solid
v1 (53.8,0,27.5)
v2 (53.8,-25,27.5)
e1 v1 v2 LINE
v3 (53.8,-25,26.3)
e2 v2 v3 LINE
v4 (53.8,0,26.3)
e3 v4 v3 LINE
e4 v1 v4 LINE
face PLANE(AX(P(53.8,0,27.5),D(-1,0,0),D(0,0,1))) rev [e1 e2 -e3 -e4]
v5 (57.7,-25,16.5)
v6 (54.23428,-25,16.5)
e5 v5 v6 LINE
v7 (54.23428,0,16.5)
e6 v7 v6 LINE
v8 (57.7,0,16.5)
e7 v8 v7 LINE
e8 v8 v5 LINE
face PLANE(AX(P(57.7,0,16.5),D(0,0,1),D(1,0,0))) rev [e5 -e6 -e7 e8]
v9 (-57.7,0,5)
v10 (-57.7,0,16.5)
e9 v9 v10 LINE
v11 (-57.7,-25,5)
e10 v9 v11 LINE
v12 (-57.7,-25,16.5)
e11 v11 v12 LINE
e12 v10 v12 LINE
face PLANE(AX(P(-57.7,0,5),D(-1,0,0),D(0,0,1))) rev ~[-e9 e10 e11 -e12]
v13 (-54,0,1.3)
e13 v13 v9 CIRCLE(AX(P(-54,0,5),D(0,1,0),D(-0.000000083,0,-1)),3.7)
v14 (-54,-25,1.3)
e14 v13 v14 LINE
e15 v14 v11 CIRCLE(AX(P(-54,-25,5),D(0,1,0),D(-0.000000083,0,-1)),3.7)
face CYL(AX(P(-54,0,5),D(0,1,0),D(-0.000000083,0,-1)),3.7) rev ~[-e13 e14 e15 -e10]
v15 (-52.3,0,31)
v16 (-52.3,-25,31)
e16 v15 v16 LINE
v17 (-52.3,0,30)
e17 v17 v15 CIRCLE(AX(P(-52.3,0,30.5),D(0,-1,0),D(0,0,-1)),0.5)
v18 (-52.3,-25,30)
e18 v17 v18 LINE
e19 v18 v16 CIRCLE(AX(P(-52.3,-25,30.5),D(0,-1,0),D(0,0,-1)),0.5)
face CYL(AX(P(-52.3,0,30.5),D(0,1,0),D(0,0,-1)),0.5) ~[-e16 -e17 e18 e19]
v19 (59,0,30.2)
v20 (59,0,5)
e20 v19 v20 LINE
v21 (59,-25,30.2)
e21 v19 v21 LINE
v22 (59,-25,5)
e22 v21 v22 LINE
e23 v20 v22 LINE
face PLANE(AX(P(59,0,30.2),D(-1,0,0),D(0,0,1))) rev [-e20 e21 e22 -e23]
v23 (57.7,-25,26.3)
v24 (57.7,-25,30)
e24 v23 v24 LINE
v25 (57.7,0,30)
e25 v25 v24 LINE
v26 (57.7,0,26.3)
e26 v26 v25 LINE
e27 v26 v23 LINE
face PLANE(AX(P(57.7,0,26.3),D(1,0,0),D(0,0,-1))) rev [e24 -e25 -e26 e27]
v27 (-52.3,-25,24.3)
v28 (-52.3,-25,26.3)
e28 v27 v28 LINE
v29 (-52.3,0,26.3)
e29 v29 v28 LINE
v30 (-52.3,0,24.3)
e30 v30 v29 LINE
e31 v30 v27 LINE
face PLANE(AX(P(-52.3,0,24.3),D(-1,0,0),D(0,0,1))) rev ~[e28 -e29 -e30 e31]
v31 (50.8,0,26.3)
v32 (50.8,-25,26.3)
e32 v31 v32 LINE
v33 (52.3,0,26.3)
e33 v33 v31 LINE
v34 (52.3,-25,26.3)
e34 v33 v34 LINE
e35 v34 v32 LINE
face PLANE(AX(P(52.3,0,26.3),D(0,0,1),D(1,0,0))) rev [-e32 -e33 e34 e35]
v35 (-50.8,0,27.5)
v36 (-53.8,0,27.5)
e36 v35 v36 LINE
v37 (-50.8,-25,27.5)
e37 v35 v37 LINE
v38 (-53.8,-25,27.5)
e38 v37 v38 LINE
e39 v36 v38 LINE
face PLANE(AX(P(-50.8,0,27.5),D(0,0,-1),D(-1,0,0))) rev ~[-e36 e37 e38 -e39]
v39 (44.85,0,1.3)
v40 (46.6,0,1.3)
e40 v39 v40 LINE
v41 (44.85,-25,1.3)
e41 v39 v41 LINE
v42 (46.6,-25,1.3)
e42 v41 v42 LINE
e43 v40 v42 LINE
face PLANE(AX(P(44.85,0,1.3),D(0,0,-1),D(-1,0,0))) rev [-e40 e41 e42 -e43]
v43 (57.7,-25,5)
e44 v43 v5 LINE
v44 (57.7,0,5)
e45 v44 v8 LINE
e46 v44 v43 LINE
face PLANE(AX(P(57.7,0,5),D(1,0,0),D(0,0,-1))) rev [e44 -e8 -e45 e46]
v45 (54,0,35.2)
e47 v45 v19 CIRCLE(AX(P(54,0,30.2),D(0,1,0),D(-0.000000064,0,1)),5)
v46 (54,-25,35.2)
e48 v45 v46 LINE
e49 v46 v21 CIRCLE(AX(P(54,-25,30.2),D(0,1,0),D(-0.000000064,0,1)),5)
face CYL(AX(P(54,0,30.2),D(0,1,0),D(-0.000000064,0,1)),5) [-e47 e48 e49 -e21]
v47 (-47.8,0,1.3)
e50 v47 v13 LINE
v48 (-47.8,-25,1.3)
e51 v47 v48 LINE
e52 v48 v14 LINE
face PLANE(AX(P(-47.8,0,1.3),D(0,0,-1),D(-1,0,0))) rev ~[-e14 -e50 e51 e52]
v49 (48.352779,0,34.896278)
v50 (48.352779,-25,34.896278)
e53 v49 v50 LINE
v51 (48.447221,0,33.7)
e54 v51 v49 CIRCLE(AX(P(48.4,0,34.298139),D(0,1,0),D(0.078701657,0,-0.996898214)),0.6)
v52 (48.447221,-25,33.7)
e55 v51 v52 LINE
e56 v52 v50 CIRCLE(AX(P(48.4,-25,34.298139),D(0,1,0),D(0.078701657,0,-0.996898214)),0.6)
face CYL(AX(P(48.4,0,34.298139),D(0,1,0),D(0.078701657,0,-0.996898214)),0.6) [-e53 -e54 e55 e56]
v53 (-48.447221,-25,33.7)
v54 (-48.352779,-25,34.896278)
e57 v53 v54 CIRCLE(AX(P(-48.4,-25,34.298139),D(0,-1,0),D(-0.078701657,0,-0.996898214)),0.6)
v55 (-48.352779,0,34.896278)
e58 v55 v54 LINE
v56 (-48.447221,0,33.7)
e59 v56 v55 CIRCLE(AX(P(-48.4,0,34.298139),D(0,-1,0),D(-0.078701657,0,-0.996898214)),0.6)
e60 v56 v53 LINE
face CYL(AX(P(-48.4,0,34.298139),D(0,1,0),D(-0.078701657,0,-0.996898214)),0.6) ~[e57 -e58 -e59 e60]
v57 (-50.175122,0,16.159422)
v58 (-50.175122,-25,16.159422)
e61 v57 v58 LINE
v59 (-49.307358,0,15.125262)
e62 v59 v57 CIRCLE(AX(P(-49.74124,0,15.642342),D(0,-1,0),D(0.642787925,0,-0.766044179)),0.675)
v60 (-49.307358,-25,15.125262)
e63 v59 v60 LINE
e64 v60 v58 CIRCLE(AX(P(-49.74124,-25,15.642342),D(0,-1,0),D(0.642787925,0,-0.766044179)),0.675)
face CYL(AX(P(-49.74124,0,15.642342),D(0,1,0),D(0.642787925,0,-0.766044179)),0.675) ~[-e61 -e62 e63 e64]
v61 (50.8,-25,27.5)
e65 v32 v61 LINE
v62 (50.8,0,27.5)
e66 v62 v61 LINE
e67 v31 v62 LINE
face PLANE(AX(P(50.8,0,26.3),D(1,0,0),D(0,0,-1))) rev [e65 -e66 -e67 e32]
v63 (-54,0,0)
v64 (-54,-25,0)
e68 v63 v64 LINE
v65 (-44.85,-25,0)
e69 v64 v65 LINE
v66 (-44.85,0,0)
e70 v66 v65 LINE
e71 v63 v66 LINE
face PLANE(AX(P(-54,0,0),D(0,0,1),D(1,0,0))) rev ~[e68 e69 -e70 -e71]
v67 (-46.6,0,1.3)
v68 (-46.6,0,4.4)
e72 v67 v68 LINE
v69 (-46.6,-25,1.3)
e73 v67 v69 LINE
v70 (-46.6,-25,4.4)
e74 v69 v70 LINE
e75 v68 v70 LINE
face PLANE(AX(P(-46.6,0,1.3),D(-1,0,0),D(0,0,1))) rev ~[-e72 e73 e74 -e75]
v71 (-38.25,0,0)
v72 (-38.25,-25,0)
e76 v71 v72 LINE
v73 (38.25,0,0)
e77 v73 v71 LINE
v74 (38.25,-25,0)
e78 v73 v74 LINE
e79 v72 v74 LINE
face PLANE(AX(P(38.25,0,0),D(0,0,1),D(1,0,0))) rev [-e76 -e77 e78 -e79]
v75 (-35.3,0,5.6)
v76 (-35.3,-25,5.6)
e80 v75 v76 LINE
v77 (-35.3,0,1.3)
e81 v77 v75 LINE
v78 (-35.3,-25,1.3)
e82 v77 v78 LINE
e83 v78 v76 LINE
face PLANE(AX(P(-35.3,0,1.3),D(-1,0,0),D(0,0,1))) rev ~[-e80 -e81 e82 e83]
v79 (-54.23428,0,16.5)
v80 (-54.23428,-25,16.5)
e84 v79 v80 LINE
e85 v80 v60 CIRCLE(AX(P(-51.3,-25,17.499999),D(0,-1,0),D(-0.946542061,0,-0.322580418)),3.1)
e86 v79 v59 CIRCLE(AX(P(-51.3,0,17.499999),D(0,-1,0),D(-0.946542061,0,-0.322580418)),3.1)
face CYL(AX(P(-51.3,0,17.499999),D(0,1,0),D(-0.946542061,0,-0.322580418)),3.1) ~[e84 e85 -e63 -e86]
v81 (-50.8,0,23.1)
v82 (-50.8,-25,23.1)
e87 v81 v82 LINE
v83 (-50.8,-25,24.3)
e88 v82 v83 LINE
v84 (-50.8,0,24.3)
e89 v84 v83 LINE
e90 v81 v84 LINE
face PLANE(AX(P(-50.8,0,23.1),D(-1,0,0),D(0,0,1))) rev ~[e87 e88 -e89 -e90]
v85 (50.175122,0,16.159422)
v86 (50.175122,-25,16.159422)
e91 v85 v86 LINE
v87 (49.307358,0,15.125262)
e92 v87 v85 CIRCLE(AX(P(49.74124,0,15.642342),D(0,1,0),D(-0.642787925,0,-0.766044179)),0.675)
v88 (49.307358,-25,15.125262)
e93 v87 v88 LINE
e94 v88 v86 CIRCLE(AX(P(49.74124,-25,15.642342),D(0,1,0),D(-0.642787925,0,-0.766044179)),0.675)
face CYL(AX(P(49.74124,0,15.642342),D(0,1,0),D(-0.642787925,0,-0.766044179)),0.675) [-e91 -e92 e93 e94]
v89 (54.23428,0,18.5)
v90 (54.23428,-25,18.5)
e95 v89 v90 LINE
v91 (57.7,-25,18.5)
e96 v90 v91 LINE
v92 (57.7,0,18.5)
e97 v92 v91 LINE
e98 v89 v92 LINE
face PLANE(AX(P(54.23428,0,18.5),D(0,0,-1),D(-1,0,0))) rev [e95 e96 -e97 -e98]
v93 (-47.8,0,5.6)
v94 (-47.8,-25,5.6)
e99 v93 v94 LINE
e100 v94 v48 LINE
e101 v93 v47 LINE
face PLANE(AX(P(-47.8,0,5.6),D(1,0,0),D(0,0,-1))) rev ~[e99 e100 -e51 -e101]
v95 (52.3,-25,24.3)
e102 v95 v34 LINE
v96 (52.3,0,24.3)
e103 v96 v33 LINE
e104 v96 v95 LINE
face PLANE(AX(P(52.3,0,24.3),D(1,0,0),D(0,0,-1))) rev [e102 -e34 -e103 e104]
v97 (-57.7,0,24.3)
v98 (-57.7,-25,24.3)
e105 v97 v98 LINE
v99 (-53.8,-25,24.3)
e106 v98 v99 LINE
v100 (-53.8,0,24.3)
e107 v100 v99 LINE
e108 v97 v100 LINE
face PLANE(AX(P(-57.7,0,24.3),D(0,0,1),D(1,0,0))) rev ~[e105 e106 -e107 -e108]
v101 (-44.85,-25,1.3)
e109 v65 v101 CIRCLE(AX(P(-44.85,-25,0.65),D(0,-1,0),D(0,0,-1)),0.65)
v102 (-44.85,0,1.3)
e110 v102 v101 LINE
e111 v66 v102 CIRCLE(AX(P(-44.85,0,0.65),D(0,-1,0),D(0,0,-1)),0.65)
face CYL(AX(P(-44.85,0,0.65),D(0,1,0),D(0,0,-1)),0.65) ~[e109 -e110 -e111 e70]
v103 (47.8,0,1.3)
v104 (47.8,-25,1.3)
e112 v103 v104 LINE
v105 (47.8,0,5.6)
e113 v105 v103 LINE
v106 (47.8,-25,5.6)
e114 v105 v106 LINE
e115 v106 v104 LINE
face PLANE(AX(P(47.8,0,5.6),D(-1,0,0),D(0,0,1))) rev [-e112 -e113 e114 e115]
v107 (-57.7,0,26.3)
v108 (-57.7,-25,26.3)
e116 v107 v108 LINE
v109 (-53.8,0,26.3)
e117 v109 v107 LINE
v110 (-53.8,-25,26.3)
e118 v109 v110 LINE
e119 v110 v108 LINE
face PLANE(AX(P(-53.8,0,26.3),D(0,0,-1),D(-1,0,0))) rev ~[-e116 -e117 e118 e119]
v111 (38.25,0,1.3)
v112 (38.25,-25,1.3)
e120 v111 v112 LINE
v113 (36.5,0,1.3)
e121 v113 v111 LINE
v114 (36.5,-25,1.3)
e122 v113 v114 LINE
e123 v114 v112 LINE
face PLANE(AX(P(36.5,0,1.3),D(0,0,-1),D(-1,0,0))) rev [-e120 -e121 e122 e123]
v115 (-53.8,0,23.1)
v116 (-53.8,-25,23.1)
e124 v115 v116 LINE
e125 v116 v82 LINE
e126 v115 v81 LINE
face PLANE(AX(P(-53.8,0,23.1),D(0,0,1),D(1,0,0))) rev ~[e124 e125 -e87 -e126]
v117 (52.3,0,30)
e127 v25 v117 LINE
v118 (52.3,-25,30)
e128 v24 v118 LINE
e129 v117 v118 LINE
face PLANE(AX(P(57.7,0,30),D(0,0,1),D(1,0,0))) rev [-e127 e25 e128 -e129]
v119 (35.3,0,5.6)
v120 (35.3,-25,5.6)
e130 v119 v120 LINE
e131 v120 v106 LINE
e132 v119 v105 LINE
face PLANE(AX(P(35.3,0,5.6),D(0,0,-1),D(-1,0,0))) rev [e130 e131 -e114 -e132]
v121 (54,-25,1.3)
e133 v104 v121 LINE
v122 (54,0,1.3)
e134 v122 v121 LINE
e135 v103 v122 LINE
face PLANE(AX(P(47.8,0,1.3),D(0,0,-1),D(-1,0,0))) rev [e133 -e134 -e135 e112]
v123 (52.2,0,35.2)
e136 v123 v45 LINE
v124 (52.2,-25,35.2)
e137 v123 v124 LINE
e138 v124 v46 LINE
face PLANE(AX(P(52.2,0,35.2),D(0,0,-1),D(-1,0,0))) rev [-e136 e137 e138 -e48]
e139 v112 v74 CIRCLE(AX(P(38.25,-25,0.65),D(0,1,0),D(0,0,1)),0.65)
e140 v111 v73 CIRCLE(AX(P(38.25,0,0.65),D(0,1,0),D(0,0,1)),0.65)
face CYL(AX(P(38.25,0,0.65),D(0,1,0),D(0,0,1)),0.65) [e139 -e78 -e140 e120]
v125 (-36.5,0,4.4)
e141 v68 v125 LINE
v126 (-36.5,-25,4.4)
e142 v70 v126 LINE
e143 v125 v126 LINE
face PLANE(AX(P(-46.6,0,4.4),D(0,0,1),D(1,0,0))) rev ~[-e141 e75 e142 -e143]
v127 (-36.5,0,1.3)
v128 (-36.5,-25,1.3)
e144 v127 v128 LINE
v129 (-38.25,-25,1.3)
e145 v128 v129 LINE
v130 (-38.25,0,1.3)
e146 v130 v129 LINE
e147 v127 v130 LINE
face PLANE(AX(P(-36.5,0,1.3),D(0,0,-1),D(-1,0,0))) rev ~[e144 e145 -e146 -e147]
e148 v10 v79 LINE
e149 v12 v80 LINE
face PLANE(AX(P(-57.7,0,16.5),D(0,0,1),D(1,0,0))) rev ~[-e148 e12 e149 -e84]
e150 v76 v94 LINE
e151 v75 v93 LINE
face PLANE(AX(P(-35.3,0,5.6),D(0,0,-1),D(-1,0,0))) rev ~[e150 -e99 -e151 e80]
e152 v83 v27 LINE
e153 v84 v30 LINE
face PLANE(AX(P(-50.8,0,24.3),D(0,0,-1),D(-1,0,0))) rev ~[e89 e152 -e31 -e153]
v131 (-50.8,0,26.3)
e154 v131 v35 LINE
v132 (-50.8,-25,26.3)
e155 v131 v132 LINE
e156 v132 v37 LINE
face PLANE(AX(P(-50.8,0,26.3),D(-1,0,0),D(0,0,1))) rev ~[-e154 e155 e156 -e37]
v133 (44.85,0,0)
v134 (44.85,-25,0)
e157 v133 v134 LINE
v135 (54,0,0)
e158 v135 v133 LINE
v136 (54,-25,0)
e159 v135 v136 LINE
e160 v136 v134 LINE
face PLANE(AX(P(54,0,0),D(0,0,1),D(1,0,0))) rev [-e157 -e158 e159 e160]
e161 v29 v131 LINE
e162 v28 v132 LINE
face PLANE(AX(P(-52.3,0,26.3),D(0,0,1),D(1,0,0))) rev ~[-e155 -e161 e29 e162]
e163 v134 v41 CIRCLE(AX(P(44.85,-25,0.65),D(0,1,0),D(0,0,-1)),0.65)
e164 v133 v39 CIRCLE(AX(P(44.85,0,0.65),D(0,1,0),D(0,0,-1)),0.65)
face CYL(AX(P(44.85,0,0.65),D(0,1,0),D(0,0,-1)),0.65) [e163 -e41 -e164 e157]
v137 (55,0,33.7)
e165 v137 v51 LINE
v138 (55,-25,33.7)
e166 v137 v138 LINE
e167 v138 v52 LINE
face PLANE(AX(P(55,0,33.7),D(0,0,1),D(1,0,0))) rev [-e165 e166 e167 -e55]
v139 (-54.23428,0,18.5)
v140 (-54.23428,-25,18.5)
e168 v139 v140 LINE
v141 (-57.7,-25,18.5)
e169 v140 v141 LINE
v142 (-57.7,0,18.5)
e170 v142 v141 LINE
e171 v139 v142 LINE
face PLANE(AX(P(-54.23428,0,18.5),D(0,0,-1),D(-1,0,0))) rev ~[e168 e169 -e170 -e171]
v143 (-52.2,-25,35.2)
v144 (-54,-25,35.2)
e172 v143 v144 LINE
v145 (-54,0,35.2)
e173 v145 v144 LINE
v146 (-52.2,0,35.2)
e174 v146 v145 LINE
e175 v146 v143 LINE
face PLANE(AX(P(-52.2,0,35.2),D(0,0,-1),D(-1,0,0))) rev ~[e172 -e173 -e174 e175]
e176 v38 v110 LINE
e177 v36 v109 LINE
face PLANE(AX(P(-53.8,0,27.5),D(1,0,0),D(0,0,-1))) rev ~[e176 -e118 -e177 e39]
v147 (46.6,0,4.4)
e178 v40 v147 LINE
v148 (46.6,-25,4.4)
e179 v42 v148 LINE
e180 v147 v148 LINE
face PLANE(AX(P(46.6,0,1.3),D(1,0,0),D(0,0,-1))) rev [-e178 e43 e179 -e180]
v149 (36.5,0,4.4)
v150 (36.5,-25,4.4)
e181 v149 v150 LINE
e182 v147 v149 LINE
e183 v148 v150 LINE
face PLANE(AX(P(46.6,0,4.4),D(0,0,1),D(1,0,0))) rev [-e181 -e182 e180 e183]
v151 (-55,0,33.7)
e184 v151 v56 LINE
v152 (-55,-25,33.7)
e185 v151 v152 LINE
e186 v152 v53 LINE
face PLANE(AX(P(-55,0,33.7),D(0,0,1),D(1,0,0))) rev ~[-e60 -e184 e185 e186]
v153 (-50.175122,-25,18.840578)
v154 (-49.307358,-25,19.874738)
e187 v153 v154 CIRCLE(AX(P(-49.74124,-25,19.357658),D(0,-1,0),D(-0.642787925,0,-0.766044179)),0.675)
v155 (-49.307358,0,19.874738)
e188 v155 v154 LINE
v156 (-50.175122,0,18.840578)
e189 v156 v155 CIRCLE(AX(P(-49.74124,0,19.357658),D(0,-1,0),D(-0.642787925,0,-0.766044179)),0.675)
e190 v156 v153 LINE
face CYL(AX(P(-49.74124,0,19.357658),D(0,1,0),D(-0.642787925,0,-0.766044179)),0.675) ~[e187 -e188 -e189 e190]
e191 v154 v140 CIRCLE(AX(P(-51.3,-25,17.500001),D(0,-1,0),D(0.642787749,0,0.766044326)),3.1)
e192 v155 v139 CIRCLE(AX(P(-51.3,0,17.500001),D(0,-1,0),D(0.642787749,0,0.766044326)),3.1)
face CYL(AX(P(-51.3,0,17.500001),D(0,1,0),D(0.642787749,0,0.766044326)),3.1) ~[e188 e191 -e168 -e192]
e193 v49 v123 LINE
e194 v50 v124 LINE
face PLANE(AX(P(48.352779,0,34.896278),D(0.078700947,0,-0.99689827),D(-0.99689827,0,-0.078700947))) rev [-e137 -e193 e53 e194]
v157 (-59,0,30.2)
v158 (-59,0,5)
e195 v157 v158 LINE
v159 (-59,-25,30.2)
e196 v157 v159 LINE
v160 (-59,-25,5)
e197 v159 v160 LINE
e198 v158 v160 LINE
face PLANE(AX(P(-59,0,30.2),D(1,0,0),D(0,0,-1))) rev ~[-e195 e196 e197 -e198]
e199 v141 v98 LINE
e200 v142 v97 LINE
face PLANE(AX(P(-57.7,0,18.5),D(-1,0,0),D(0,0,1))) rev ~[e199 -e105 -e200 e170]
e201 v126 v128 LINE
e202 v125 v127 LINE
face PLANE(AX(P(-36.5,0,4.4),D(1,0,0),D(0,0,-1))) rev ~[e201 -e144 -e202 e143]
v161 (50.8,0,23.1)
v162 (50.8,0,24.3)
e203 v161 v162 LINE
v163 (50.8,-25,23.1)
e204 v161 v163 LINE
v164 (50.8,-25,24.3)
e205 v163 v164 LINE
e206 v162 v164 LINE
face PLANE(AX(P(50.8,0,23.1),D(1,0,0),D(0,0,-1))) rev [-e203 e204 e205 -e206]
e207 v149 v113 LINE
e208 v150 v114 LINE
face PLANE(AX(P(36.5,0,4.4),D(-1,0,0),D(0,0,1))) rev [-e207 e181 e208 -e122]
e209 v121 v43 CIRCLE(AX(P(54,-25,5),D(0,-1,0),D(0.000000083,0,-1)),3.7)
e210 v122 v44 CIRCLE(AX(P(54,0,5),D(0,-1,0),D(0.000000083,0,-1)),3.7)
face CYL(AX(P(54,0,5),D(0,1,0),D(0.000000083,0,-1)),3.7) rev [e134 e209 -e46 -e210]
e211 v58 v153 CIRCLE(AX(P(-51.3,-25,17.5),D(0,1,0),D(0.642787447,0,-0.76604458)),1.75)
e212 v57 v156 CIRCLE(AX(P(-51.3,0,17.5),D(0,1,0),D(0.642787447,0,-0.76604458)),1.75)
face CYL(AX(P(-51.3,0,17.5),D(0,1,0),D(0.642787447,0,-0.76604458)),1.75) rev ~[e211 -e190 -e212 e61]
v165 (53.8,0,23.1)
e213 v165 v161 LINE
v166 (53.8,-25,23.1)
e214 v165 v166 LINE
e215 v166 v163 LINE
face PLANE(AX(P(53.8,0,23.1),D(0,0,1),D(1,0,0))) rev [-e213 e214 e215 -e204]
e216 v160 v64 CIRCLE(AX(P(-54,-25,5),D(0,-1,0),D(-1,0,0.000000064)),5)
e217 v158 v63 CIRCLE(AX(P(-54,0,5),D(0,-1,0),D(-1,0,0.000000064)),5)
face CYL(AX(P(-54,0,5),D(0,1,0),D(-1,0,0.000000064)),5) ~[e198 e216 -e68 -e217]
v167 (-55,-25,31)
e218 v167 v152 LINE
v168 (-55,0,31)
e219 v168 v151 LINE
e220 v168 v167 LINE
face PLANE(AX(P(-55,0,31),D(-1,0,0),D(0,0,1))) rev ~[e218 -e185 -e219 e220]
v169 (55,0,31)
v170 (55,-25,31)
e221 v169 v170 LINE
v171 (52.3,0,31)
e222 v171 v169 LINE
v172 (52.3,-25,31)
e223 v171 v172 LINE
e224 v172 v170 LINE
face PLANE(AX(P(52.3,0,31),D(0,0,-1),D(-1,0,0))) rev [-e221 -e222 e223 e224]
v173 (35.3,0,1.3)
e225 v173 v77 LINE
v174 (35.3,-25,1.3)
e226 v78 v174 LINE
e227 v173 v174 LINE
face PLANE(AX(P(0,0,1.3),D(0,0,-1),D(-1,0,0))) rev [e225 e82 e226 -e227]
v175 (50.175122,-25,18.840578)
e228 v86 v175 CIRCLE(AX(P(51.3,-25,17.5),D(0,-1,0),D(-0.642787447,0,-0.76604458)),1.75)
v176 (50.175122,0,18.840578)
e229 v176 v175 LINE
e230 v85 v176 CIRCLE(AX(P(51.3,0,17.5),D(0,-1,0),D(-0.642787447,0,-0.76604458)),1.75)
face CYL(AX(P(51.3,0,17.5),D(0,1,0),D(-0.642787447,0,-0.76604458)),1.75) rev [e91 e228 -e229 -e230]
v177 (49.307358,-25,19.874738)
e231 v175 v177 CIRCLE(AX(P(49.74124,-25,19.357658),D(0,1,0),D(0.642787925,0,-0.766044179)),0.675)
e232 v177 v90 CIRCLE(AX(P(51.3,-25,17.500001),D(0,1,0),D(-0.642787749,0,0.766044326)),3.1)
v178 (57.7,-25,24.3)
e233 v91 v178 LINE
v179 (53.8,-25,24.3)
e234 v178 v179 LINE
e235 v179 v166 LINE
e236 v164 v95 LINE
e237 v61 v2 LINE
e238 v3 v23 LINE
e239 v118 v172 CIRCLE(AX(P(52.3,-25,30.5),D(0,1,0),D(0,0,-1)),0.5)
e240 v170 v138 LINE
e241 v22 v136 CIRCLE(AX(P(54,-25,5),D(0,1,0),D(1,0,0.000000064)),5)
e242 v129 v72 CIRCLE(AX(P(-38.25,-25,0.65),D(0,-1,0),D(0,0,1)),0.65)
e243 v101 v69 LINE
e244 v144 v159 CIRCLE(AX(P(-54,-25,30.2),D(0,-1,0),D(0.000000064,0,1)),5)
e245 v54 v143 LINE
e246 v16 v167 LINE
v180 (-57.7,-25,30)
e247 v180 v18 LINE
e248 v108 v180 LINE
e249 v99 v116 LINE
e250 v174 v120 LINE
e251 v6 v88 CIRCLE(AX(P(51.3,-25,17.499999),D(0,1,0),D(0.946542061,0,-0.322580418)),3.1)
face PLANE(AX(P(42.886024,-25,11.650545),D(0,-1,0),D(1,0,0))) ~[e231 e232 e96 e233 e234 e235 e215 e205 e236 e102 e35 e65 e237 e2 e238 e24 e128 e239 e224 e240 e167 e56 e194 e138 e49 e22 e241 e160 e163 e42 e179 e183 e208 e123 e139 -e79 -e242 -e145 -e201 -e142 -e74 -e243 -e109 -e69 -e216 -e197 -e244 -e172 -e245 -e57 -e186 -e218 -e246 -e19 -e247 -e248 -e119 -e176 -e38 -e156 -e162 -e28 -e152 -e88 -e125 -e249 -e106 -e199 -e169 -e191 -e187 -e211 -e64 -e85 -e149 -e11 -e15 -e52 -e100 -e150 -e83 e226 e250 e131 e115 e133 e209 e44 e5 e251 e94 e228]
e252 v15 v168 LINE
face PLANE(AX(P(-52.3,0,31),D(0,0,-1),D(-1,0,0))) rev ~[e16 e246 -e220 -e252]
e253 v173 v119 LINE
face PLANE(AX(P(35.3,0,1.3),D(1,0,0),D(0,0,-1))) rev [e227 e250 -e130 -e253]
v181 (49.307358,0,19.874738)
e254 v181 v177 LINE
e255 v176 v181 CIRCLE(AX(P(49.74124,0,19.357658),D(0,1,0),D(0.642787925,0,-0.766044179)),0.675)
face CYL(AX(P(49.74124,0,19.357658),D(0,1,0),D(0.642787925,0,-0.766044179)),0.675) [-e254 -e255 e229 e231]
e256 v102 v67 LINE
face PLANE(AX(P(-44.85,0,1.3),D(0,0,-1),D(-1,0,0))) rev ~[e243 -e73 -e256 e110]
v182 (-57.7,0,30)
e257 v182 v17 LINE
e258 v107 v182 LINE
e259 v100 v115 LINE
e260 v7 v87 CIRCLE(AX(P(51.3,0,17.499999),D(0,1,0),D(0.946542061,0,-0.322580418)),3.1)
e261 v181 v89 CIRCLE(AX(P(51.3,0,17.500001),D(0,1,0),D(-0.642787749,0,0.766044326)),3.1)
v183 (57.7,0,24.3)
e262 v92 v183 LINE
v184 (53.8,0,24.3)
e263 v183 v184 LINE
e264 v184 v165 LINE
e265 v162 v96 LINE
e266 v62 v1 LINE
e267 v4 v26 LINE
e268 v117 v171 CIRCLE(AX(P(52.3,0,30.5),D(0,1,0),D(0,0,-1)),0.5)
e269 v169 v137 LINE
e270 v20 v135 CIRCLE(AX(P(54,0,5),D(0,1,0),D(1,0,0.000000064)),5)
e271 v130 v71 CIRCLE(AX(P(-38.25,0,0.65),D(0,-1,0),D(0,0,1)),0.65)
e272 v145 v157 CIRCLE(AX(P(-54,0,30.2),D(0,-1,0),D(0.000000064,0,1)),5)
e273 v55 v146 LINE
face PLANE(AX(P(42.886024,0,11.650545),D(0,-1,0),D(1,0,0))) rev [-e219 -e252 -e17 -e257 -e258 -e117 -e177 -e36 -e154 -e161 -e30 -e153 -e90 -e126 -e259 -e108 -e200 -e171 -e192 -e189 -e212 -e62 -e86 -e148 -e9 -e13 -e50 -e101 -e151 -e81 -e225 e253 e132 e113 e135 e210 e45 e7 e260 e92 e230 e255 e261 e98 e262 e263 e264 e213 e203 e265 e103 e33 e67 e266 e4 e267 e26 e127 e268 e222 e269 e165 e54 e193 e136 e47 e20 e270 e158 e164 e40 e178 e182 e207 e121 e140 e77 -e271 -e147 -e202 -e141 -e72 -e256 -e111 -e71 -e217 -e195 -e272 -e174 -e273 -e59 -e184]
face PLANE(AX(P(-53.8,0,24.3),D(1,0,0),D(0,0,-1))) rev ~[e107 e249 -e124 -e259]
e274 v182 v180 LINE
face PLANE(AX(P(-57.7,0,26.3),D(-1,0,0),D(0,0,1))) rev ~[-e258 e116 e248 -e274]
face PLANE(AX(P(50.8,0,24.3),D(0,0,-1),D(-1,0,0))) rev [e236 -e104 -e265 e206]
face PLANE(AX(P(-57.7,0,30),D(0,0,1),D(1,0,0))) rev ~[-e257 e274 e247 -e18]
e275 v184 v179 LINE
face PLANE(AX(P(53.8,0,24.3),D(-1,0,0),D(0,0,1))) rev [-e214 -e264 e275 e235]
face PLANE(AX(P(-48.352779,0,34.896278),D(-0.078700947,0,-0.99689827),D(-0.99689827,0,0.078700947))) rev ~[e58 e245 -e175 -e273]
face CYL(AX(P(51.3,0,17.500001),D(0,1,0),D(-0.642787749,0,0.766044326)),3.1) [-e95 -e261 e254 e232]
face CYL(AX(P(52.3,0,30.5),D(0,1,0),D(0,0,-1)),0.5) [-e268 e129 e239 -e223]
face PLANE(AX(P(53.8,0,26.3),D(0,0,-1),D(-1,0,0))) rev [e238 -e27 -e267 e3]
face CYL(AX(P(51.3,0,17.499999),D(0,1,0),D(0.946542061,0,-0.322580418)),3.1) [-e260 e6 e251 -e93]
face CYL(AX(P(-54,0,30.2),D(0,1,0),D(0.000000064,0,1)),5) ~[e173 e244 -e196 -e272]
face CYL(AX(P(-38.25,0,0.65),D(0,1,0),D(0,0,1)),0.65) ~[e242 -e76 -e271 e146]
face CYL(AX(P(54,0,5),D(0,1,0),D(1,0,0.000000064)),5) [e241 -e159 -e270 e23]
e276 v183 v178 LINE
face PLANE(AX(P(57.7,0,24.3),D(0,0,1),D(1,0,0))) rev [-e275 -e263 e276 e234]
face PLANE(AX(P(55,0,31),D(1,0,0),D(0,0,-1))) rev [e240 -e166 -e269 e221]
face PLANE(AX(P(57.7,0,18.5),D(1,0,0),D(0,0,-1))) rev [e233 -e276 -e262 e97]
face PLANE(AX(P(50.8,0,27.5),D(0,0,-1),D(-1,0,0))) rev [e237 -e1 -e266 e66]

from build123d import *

# Parameters (mm, degrees)
F1_DEPTH = 25


with BuildPart() as f1:
    # F0 (on Front) → F1 (new body)
    with BuildSketch(Plane.XZ):
        with BuildLine():
            Line((0, 0), (0, 1.3))
            Line((0, 1.3), (-35.3, 1.3))
            Line((-35.3, 1.3), (-35.3, 5.6))
            Line((-35.3, 5.6), (-47.8, 5.6))
            Line((-47.8, 5.6), (-47.8, 1.3))
            Line((-47.8, 1.3), (-54, 1.3))
            ThreePointArc((-54, 1.3), (-56.616295, 2.383705), (-57.7, 5))
            Line((-57.7, 5), (-57.7, 16.5))
            Line((-57.7, 16.5), (-54.23428, 16.5))
            ThreePointArc((-54.23428, 16.5), (-52.133155, 14.514057), (-49.307358, 15.125262))
            ThreePointArc((-49.307358, 15.125262), (-49.22416, 16.076224), (-50.175122, 16.159422))
            ThreePointArc((-50.175122, 16.159422), (-53.05, 17.5), (-50.175122, 18.840578))
            ThreePointArc((-50.175122, 18.840578), (-49.22416, 18.923776), (-49.307358, 19.874738))
            ThreePointArc((-49.307358, 19.874738), (-52.133155, 20.485943), (-54.23428, 18.5))
            Line((-54.23428, 18.5), (-57.7, 18.5))
            Line((-57.7, 18.5), (-57.7, 24.3))
            Line((-57.7, 24.3), (-53.8, 24.3))
            Line((-53.8, 24.3), (-53.8, 23.1))
            Line((-53.8, 23.1), (-50.8, 23.1))
            Line((-50.8, 23.1), (-50.8, 24.3))
            Line((-50.8, 24.3), (-52.3, 24.3))
            Line((-52.3, 24.3), (-52.3, 26.3))
            Line((-52.3, 26.3), (-50.8, 26.3))
            Line((-50.8, 26.3), (-50.8, 27.5))
            Line((-50.8, 27.5), (-53.8, 27.5))
            Line((-53.8, 27.5), (-53.8, 26.3))
            Line((-53.8, 26.3), (-57.7, 26.3))
            Line((-57.7, 26.3), (-57.7, 30))
            Line((-57.7, 30), (-52.3, 30))
            ThreePointArc((-52.3, 30), (-51.8, 30.5), (-52.3, 31))
            Line((-52.3, 31), (-55, 31))
            Line((-55, 31), (-55, 33.7))
            Line((-55, 33.7), (-48.447221, 33.7))
            ThreePointArc((-48.447221, 33.7), (-47.801861, 34.250918), (-48.352779, 34.896278))
            Line((-48.352779, 34.896278), (-52.2, 35.2))
            Line((-52.2, 35.2), (-54, 35.2))
            ThreePointArc((-54, 35.2), (-57.535534, 33.735534), (-59, 30.2))
            Line((-59, 30.2), (-59, 5))
            ThreePointArc((-59, 5), (-57.535534, 1.464466), (-54, 0))
            Line((-54, 0), (-44.85, 0))
            ThreePointArc((-44.85, 0), (-44.2, 0.65), (-44.85, 1.3))
            Line((-44.85, 1.3), (-46.6, 1.3))
            Line((-46.6, 1.3), (-46.6, 4.4))
            Line((-46.6, 4.4), (-36.5, 4.4))
            Line((-36.5, 4.4), (-36.5, 1.3))
            Line((-36.5, 1.3), (-38.25, 1.3))
            ThreePointArc((-38.25, 1.3), (-38.9, 0.65), (-38.25, 0))
            Line((-38.25, 0), (0, 0))
        make_face()
    extrude(amount=F1_DEPTH)

    # F2: F1 across plane


with BuildPart() as f1_1:
    add(f1.part)
    add(f1.part.mirror(Plane.YZ))


solid = f1_1.part
